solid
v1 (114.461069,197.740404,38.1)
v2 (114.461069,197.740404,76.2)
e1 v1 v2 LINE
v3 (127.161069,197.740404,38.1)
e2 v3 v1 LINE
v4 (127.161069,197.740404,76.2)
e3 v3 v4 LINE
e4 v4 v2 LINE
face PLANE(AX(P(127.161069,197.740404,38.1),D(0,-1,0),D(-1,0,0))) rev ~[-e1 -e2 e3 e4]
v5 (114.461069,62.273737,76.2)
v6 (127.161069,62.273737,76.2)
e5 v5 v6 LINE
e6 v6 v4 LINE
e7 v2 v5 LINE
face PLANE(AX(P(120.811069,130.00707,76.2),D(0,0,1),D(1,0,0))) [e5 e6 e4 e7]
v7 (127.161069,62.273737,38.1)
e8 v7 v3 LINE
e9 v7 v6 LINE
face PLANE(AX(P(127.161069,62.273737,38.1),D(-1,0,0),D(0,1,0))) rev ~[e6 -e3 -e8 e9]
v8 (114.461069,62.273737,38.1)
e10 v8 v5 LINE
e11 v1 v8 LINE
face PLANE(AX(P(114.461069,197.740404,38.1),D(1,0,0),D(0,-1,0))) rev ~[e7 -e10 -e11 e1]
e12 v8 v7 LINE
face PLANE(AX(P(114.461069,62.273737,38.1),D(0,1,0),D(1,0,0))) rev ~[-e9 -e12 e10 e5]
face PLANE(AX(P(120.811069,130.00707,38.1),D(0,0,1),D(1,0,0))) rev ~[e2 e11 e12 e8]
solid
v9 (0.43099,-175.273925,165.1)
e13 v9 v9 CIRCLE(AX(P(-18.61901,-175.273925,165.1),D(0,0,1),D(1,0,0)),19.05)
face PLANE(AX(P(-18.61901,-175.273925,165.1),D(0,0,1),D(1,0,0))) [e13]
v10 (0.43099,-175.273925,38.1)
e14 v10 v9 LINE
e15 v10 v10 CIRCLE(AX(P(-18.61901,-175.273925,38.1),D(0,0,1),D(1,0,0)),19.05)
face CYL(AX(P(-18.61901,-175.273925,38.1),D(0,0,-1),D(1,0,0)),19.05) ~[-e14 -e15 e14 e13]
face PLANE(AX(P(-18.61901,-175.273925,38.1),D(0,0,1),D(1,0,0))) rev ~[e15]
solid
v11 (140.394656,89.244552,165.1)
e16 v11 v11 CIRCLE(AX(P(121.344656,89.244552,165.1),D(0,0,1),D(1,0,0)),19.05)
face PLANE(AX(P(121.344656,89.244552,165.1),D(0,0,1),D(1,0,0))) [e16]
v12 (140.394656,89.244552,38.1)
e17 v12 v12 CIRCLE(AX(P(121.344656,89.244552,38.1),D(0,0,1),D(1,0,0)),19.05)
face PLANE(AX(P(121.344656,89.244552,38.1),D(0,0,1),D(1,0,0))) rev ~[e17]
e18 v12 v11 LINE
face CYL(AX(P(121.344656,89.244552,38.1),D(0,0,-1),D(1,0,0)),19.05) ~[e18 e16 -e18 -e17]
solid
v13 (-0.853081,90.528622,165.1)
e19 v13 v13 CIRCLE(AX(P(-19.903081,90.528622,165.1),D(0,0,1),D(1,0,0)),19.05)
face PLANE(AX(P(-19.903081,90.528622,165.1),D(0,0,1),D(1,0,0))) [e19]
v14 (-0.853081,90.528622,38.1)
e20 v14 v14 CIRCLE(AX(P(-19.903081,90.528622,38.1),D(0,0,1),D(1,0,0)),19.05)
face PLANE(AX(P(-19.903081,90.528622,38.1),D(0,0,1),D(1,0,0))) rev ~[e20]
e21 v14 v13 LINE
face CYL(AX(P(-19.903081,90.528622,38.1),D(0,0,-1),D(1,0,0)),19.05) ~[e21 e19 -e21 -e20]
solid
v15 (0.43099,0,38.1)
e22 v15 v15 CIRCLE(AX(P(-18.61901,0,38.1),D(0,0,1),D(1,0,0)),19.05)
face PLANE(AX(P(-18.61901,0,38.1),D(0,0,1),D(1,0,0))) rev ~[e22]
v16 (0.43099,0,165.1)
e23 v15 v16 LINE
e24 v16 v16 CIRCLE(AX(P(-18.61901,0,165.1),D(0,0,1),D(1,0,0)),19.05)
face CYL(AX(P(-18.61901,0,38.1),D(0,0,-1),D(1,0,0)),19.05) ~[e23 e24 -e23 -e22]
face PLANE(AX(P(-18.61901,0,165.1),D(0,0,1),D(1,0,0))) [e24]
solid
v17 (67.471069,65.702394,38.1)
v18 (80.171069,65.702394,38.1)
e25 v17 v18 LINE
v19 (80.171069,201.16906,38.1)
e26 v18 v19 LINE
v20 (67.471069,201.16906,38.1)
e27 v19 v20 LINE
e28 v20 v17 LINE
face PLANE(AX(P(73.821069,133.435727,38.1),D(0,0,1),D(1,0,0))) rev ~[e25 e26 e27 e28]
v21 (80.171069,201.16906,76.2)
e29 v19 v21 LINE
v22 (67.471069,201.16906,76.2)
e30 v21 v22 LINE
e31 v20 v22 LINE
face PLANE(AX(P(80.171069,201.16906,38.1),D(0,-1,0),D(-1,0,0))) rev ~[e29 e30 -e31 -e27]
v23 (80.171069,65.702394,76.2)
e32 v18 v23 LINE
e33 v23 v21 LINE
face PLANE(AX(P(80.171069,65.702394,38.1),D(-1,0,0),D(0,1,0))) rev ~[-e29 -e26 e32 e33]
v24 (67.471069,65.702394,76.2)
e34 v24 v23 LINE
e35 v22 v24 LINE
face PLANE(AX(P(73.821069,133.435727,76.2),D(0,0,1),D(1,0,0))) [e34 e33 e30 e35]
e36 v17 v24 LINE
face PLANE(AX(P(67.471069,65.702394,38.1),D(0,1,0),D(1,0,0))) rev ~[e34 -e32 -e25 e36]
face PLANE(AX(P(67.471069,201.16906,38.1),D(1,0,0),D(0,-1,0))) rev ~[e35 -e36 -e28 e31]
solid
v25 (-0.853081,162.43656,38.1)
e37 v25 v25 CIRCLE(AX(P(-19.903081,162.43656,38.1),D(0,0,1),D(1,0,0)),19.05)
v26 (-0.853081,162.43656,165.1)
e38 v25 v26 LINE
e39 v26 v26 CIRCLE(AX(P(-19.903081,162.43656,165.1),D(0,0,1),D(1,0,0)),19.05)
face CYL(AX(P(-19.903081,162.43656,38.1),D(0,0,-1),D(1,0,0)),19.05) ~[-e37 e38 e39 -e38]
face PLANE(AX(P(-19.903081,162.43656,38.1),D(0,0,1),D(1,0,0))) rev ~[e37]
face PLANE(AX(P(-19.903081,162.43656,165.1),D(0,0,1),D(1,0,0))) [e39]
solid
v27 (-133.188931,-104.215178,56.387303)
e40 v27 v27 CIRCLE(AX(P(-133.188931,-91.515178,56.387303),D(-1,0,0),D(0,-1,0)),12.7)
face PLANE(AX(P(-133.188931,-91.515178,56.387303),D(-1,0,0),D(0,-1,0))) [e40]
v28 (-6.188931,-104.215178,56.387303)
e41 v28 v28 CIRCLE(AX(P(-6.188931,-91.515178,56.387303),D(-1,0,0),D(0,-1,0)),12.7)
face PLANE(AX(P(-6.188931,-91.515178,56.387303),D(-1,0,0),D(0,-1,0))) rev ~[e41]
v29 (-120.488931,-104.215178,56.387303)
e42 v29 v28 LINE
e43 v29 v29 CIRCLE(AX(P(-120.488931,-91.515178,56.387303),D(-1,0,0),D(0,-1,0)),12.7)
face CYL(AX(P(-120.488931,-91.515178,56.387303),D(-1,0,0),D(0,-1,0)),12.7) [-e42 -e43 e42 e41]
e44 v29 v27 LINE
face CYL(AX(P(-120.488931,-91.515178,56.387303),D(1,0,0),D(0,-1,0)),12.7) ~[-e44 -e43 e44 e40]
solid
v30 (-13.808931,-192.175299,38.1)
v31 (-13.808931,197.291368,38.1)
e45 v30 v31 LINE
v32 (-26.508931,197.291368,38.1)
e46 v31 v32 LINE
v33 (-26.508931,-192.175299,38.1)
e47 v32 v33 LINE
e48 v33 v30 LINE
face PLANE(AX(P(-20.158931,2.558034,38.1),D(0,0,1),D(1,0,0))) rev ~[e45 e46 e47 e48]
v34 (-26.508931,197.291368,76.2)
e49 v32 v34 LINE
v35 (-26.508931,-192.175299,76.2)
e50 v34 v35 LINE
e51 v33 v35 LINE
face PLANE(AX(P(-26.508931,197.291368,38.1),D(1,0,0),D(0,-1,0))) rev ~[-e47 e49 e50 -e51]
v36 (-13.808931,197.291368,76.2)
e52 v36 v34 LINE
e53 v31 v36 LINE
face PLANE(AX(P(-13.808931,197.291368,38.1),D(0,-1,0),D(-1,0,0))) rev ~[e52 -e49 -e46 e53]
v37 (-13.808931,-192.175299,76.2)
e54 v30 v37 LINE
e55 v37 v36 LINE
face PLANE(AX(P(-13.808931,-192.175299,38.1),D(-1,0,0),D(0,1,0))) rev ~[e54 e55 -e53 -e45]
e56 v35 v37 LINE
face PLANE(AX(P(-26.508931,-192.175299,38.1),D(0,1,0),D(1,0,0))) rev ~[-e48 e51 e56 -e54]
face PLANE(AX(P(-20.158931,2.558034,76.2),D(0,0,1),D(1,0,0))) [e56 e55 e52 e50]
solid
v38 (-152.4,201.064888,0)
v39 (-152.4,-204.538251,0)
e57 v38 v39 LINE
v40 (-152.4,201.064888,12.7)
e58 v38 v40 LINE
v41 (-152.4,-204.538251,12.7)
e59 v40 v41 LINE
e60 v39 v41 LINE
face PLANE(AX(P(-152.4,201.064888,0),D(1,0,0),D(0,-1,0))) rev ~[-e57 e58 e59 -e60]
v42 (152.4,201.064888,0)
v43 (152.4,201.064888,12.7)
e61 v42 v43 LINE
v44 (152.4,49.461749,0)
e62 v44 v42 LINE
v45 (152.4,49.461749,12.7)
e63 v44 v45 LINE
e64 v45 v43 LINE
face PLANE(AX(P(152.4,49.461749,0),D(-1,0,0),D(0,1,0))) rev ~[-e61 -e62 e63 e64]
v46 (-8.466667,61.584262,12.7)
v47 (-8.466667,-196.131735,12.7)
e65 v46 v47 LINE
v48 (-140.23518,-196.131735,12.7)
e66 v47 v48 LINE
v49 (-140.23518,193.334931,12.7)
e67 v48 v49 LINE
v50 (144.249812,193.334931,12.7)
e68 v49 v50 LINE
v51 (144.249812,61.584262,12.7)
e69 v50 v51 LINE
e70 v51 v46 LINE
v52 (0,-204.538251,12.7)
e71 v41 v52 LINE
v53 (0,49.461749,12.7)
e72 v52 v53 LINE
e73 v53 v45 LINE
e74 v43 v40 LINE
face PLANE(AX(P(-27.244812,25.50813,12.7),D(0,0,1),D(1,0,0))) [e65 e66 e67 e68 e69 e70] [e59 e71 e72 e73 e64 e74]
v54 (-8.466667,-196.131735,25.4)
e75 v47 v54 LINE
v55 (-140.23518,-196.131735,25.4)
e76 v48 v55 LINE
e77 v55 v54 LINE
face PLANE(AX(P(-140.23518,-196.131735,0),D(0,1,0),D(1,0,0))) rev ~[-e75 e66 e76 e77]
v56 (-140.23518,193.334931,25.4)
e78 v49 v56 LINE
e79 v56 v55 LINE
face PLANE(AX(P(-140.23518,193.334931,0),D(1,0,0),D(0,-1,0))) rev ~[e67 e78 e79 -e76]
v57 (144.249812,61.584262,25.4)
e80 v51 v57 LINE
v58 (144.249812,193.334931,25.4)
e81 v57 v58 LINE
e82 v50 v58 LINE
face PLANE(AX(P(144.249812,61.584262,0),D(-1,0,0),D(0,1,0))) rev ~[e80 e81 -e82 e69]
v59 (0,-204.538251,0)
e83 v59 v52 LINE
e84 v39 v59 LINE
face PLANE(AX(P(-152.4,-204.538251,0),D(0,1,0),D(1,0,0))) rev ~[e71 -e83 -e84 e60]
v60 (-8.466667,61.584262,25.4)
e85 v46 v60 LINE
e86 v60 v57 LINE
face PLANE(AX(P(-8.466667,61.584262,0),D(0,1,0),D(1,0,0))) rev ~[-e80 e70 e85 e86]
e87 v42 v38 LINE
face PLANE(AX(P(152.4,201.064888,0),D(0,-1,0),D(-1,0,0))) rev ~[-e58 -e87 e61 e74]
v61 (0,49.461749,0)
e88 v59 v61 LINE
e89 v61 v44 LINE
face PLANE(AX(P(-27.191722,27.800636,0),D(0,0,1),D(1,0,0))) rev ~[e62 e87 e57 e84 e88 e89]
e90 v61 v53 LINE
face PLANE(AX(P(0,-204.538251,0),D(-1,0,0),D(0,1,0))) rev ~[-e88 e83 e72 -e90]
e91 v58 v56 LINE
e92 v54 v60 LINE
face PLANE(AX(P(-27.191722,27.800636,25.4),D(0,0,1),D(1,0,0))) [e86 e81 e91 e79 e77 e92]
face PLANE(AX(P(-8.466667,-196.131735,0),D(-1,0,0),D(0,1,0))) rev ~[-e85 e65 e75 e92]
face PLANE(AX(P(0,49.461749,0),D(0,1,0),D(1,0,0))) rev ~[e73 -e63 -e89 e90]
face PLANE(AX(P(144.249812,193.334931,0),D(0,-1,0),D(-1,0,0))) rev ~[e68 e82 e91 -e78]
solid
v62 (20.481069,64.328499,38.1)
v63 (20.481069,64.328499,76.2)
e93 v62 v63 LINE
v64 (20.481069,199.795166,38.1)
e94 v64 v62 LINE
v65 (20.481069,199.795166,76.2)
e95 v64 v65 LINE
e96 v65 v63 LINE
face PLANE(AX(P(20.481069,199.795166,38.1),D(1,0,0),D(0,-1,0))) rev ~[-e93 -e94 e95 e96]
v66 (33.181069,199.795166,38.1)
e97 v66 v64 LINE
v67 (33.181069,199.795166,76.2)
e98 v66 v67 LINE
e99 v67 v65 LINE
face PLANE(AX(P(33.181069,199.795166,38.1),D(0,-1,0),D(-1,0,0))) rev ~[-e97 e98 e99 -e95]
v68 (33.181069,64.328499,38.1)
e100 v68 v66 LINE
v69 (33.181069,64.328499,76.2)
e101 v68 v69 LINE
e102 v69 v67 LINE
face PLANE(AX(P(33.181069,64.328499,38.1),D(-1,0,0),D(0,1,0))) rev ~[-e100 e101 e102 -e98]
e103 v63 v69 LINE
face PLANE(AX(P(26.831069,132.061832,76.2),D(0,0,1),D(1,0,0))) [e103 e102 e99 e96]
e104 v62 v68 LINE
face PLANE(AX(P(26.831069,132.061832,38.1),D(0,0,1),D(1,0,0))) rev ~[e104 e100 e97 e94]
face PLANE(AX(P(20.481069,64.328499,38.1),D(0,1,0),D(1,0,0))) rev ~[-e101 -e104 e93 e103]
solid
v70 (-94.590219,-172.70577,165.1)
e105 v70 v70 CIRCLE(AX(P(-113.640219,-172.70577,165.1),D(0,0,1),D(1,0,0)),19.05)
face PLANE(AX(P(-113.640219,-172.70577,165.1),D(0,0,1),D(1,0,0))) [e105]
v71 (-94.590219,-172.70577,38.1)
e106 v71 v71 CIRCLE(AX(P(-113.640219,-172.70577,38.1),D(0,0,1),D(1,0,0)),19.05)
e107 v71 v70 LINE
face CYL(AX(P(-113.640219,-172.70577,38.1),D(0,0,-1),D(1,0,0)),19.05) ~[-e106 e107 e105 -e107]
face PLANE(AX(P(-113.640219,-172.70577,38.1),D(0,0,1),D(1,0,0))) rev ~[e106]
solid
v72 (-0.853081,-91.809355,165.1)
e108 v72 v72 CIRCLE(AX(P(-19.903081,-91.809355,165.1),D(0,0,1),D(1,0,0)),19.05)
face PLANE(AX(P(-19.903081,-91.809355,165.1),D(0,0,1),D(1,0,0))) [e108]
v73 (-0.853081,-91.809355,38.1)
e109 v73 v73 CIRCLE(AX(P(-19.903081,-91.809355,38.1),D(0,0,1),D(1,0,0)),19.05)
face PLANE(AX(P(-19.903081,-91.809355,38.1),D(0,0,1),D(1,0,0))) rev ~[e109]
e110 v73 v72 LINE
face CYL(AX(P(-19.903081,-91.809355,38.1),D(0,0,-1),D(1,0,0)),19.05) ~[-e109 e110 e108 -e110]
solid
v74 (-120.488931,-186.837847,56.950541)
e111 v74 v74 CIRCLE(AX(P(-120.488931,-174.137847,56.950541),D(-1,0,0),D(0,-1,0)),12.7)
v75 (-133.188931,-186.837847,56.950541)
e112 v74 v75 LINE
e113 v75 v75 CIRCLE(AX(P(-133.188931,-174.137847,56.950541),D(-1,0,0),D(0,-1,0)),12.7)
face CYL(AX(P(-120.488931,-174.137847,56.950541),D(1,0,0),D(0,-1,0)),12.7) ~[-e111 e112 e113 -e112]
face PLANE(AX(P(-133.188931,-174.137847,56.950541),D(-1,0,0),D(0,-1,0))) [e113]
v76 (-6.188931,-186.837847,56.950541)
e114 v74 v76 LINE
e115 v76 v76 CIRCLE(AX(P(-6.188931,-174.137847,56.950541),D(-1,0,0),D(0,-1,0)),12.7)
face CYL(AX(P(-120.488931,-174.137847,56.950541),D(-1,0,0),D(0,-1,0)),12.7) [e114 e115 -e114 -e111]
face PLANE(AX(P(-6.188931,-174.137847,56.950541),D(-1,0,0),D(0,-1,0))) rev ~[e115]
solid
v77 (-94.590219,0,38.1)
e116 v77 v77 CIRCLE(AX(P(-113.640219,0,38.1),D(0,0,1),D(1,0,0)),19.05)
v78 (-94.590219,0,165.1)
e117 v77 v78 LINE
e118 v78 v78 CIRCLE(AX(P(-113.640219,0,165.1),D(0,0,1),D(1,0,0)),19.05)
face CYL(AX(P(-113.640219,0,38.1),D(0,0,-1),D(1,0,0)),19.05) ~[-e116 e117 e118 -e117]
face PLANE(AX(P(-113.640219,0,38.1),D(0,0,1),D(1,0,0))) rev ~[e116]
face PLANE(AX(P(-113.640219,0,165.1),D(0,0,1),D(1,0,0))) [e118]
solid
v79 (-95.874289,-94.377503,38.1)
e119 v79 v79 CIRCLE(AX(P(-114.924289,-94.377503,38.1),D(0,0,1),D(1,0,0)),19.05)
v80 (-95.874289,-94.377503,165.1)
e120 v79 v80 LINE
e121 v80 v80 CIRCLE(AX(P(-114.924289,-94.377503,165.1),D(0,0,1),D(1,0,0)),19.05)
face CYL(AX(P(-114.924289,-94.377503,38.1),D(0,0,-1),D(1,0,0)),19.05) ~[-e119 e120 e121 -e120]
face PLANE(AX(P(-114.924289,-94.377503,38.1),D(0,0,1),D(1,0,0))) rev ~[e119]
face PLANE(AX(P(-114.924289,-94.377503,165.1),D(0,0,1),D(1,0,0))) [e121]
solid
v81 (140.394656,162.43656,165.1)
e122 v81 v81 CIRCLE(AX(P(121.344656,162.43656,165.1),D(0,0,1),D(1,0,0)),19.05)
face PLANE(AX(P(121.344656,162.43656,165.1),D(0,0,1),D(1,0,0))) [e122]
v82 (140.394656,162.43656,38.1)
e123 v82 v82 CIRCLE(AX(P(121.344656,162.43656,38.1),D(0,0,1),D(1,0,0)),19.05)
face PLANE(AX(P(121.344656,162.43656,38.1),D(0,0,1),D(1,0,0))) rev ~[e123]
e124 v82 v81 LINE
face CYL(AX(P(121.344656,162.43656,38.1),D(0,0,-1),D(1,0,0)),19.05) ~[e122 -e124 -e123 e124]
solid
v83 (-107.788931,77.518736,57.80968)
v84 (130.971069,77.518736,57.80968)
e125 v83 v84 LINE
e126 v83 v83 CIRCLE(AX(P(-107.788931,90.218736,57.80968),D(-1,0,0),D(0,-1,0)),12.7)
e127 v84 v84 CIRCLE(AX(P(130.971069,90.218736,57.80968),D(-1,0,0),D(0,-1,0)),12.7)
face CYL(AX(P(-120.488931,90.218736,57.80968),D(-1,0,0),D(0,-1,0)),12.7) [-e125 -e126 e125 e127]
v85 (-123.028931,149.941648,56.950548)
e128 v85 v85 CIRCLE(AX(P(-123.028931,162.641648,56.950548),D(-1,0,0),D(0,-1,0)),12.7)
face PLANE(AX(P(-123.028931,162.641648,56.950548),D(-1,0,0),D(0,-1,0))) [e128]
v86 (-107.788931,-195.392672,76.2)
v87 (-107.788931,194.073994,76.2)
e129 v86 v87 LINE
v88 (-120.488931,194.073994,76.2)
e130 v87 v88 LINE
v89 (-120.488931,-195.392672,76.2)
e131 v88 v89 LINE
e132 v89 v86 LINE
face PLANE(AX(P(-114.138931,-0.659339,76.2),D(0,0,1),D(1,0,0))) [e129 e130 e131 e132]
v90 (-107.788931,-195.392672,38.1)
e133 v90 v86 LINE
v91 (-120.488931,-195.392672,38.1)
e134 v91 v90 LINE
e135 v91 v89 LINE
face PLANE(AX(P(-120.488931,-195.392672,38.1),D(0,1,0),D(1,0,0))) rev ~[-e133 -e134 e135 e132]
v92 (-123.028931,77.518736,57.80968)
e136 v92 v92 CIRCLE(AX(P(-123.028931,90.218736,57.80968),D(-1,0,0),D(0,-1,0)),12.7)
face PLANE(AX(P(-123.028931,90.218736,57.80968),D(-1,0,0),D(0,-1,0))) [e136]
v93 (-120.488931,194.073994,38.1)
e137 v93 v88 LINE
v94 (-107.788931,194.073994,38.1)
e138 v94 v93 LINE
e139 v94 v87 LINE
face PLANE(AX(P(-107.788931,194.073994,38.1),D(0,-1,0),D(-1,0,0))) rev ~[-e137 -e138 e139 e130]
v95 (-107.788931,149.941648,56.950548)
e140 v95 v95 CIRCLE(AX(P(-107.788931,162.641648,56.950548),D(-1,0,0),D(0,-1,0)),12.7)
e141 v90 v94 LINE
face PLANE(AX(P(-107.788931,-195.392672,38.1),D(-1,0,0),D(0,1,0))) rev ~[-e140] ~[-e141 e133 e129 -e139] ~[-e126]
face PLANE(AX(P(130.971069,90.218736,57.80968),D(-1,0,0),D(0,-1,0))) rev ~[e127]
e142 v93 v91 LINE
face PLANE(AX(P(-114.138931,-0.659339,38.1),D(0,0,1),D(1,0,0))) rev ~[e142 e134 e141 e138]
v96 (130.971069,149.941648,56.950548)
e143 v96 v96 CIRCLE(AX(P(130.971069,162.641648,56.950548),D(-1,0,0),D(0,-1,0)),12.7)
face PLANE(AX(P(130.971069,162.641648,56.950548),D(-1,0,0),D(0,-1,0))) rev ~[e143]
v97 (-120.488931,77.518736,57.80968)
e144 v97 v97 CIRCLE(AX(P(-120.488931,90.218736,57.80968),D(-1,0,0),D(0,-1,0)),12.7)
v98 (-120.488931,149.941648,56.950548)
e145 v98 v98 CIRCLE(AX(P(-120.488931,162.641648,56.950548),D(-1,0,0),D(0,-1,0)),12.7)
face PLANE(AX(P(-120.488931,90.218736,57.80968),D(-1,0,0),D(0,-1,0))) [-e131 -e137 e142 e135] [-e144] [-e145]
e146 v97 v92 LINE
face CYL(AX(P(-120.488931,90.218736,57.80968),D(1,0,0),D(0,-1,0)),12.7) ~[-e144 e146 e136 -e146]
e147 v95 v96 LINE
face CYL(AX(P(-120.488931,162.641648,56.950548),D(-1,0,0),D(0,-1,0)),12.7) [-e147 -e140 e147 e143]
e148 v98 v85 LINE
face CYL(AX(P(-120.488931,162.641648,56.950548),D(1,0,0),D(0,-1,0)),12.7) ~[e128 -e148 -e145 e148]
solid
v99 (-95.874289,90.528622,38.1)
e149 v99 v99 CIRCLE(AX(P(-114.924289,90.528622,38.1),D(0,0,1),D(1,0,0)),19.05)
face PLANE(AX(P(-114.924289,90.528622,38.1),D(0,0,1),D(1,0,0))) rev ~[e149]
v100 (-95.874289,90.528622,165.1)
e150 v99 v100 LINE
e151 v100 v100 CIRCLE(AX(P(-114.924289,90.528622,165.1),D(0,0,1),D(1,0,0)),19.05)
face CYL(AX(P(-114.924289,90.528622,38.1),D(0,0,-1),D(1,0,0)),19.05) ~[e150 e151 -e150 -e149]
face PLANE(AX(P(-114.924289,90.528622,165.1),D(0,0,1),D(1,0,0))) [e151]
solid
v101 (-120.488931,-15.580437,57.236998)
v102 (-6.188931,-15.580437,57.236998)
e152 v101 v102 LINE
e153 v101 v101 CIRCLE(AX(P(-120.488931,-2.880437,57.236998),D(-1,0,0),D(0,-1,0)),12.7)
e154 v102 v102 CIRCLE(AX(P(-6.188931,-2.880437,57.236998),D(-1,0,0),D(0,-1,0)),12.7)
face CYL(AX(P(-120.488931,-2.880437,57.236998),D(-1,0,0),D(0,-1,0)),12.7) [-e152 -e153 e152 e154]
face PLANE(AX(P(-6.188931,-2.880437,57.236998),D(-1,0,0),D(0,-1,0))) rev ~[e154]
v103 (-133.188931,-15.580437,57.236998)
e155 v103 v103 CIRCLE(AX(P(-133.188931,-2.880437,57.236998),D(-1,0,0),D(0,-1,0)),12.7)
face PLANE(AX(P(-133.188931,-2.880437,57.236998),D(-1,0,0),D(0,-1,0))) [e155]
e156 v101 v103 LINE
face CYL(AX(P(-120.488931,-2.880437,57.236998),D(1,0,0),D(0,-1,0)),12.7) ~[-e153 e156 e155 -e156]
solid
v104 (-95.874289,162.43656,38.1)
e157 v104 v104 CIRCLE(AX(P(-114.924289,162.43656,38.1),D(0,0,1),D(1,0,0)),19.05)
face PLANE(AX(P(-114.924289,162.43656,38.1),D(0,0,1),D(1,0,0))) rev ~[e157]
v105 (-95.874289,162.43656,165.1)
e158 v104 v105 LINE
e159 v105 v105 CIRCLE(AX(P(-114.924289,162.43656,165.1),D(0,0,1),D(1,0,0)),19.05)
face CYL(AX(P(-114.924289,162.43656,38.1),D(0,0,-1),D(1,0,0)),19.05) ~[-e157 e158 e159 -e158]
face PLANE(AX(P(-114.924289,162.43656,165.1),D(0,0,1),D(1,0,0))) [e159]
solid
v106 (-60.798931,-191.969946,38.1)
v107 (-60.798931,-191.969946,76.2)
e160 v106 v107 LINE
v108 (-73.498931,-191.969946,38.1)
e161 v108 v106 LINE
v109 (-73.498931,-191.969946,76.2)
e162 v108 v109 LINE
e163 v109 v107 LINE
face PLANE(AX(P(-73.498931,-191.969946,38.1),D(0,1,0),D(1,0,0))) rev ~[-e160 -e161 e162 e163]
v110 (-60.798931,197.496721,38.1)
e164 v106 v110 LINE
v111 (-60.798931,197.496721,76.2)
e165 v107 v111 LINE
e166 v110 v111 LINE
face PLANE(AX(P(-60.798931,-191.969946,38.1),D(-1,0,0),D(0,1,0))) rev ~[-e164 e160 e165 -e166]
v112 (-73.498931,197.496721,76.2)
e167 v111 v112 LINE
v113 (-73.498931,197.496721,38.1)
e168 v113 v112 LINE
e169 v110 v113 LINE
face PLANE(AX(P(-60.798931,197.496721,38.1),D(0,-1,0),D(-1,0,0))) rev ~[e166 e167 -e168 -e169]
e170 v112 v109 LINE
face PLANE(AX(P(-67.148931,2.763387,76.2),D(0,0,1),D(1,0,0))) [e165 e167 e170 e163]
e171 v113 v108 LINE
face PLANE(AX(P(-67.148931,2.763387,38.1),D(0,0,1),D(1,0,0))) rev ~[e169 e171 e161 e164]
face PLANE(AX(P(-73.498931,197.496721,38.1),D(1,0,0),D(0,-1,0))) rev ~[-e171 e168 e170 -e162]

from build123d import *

# Parameters (mm, degrees)
F2_DEPTH      = 12.7
F3_DEPTH      = 25.4
F6_DEPTH      = 38.1
F7_R          = 12.7
F8_DEPTH      = 251.46
F8_DEPTH_BACK = 2.54
F9_DEPTH      = 114.3
F9_DEPTH_BACK = 12.7
F10_R         = 19.05
F11_DEPTH     = 127


with BuildPart() as f2:
    # F0 (on Top) → F2 (new body)
    with BuildSketch(Plane.XY):
        Polygon((152.4, 201.0648879761), (-152.4, 201.0648879761), (-152.4, -204.5382511029), (0, -204.5382511029), (0, 49.4617488971), (152.4, 49.4617488971), align=None)
    extrude(amount=F2_DEPTH)

    # F1 (on Top) → F3 (join)
    with BuildSketch(Plane.XY):
        Polygon((144.2498117685, 193.3349314054), (-140.2351799329, 193.3349314054), (-140.2351799329, -196.1317352613), (-8.4666666667, -196.1317352613), (-8.4666666667, 61.5842622797), (0, 61.5842622797), (144.2498117685, 61.5842622797), align=None)
    extrude(amount=F3_DEPTH)


with BuildPart() as f6:
    # F5 (on offset) → F6 (new body)
    with BuildSketch(Plane.XY.offset(38.1)):
        Polygon((-73.498930751, 197.4967206399), (-73.498930751, 27.8196092695), (-73.498930751, -191.9699460268), (-60.798930751, -191.9699460268), (-60.798930751, 127.6573985815), (-60.798930751, 197.4967206399), align=None)
    extrude(amount=F6_DEPTH)


with BuildPart() as f6b:
    # F5 (on offset) → F6, piece 2 (new body)
    with BuildSketch(Plane.XY.offset(38.1)):
        Polygon((-107.788930751, 194.0739942034), (-120.488930751, 194.0739942034), (-120.488930751, -195.3926724633), (-107.788930751, -195.3926724633), (-107.788930751, 27.8196092695), align=None)
    extrude(amount=F6_DEPTH)

    # F7 (on face) → F8 (join, two sides)
    with BuildSketch(Plane(origin=(-120.488930751, 0, 0), x_dir=(0, -1, 0), z_dir=(-1, 0, 0))) as f8_sk:
        with Locations((-90.2187364873, 57.8096798096)):
            Circle(F7_R)
        with Locations((-162.6416483043, 56.950548049)):
            Circle(F7_R)
    extrude(amount=-F8_DEPTH)
    extrude(f8_sk.sketch, amount=F8_DEPTH_BACK)


with BuildPart() as f6c:
    # F5 (on offset) → F6, piece 3 (new body)
    with BuildSketch(Plane.XY.offset(38.1)):
        Polygon((-26.508930751, 197.2913677375), (-26.508930751, 127.6573985815), (-26.508930751, -192.1752989292), (-13.808930751, -192.1752989292), (-13.808930751, 169.3038642406), (-13.808930751, 197.2913677375), align=None)
    extrude(amount=F6_DEPTH)


with BuildPart() as f6d:
    # F5 (on offset) → F6, piece 4 (new body)
    with BuildSketch(Plane.XY.offset(38.1)):
        Polygon((20.481069249, 199.795165805), (20.481069249, 169.3038642406), (20.481069249, 64.3284991384), (33.181069249, 64.3284991384), (33.181069249, 132.0618324717), (33.181069249, 199.795165805), align=None)
    extrude(amount=F6_DEPTH)


with BuildPart() as f6e:
    # F5 (on offset) → F6, piece 5 (new body)
    with BuildSketch(Plane.XY.offset(38.1)):
        Polygon((67.471069249, 201.1690603177), (67.471069249, 132.0618324717), (67.471069249, 65.702393651), (80.171069249, 65.702393651), (80.171069249, 154.0302634239), (80.171069249, 201.1690603177), align=None)
    extrude(amount=F6_DEPTH)


with BuildPart() as f6f:
    # F5 (on offset) → F6, piece 6 (new body)
    with BuildSketch(Plane.XY.offset(38.1)):
        Polygon((114.461069249, 197.7404037098), (114.461069249, 154.0302634239), (114.461069249, 62.2737370431), (127.161069249, 62.2737370431), (127.161069249, 197.7404037098), align=None)
    extrude(amount=F6_DEPTH)


with BuildPart() as f9:
    # F7 (on face) → F9 (new body, two sides)
    with BuildSketch(Plane(origin=(-120.488930751, 0, 0), x_dir=(0, -1, 0), z_dir=(-1, 0, 0))) as f9_sk:
        with Locations((174.1378468705, 56.9505412799)):
            Circle(F7_R)
    extrude(amount=-F9_DEPTH)
    extrude(f9_sk.sketch, amount=F9_DEPTH_BACK)


with BuildPart() as f9b:
    # F7 (on face) → F9, piece 2 (new body, two sides)
    with BuildSketch(Plane(origin=(-120.488930751, 0, 0), x_dir=(0, -1, 0), z_dir=(-1, 0, 0))) as f9_2_sk:
        with Locations((2.8804370862, 57.2369977062)):
            Circle(F7_R)
    extrude(amount=-F9_DEPTH)
    extrude(f9_2_sk.sketch, amount=F9_DEPTH_BACK)


with BuildPart() as f9c:
    # F7 (on face) → F9, piece 3 (new body, two sides)
    with BuildSketch(Plane(origin=(-120.488930751, 0, 0), x_dir=(0, -1, 0), z_dir=(-1, 0, 0))) as f9_3_sk:
        with Locations((91.5151780908, 56.387302765)):
            Circle(F7_R)
    extrude(amount=-F9_DEPTH)
    extrude(f9_3_sk.sketch, amount=F9_DEPTH_BACK)


with BuildPart() as f11:
    # F10 (on offset) → F11 (new body)
    with BuildSketch(Plane.XY.offset(38.1)):
        with Locations((-113.6402189732, -172.7057695389)):
            Circle(F10_R)
    extrude(amount=F11_DEPTH)


with BuildPart() as f11b:
    # F10 (on offset) → F11, piece 2 (new body)
    with BuildSketch(Plane.XY.offset(38.1)):
        with Locations((-114.9242892861, -94.377502799)):
            Circle(F10_R)
    extrude(amount=F11_DEPTH)


with BuildPart() as f11c:
    # F10 (on offset) → F11, piece 3 (new body)
    with BuildSketch(Plane.XY.offset(38.1)):
        with Locations((-18.6190102249, -175.273925066)):
            Circle(F10_R)
    extrude(amount=F11_DEPTH)


with BuildPart() as f11d:
    # F10 (on offset) → F11, piece 4 (new body)
    with BuildSketch(Plane.XY.offset(38.1)):
        with Locations((-19.9030805379, -91.8093547225)):
            Circle(F10_R)
    extrude(amount=F11_DEPTH)


with BuildPart() as f11e:
    # F10 (on offset) → F11, piece 5 (new body)
    with BuildSketch(Plane.XY.offset(38.1)):
        with Locations((-18.6190102249, 0)):
            Circle(F10_R)
    extrude(amount=F11_DEPTH)


with BuildPart() as f11f:
    # F10 (on offset) → F11, piece 6 (new body)
    with BuildSketch(Plane.XY.offset(38.1)):
        with Locations((-113.6402189732, 0)):
            Circle(F10_R)
    extrude(amount=F11_DEPTH)


with BuildPart() as f11g:
    # F10 (on offset) → F11, piece 7 (new body)
    with BuildSketch(Plane.XY.offset(38.1)):
        with Locations((-114.9242892861, 90.5286222696)):
            Circle(F10_R)
    extrude(amount=F11_DEPTH)


with BuildPart() as f11h:
    # F10 (on offset) → F11, piece 8 (new body)
    with BuildSketch(Plane.XY.offset(38.1)):
        with Locations((-114.9242892861, 162.4365597963)):
            Circle(F10_R)
    extrude(amount=F11_DEPTH)


with BuildPart() as f11i:
    # F10 (on offset) → F11, piece 9 (new body)
    with BuildSketch(Plane.XY.offset(38.1)):
        with Locations((-19.9030805379, 162.4365597963)):
            Circle(F10_R)
    extrude(amount=F11_DEPTH)


with BuildPart() as f11j:
    # F10 (on offset) → F11, piece 10 (new body)
    with BuildSketch(Plane.XY.offset(38.1)):
        with Locations((-19.9030805379, 90.5286222696)):
            Circle(F10_R)
    extrude(amount=F11_DEPTH)


with BuildPart() as f11k:
    # F10 (on offset) → F11, piece 11 (new body)
    with BuildSketch(Plane.XY.offset(38.1)):
        with Locations((121.3446557522, 89.2445519567)):
            Circle(F10_R)
    extrude(amount=F11_DEPTH)


with BuildPart() as f11l:
    # F10 (on offset) → F11, piece 12 (new body)
    with BuildSketch(Plane.XY.offset(38.1)):
        with Locations((121.3446557522, 162.4365597963)):
            Circle(F10_R)
    extrude(amount=F11_DEPTH)


solid = Compound([f2.part, f6.part, f6b.part, f6c.part, f6d.part, f6e.part, f6f.part, f9.part, f9b.part, f9c.part, f11.part, f11b.part, f11c.part, f11d.part, f11e.part, f11f.part, f11g.part, f11h.part, f11i.part, f11j.part, f11k.part, f11l.part])
